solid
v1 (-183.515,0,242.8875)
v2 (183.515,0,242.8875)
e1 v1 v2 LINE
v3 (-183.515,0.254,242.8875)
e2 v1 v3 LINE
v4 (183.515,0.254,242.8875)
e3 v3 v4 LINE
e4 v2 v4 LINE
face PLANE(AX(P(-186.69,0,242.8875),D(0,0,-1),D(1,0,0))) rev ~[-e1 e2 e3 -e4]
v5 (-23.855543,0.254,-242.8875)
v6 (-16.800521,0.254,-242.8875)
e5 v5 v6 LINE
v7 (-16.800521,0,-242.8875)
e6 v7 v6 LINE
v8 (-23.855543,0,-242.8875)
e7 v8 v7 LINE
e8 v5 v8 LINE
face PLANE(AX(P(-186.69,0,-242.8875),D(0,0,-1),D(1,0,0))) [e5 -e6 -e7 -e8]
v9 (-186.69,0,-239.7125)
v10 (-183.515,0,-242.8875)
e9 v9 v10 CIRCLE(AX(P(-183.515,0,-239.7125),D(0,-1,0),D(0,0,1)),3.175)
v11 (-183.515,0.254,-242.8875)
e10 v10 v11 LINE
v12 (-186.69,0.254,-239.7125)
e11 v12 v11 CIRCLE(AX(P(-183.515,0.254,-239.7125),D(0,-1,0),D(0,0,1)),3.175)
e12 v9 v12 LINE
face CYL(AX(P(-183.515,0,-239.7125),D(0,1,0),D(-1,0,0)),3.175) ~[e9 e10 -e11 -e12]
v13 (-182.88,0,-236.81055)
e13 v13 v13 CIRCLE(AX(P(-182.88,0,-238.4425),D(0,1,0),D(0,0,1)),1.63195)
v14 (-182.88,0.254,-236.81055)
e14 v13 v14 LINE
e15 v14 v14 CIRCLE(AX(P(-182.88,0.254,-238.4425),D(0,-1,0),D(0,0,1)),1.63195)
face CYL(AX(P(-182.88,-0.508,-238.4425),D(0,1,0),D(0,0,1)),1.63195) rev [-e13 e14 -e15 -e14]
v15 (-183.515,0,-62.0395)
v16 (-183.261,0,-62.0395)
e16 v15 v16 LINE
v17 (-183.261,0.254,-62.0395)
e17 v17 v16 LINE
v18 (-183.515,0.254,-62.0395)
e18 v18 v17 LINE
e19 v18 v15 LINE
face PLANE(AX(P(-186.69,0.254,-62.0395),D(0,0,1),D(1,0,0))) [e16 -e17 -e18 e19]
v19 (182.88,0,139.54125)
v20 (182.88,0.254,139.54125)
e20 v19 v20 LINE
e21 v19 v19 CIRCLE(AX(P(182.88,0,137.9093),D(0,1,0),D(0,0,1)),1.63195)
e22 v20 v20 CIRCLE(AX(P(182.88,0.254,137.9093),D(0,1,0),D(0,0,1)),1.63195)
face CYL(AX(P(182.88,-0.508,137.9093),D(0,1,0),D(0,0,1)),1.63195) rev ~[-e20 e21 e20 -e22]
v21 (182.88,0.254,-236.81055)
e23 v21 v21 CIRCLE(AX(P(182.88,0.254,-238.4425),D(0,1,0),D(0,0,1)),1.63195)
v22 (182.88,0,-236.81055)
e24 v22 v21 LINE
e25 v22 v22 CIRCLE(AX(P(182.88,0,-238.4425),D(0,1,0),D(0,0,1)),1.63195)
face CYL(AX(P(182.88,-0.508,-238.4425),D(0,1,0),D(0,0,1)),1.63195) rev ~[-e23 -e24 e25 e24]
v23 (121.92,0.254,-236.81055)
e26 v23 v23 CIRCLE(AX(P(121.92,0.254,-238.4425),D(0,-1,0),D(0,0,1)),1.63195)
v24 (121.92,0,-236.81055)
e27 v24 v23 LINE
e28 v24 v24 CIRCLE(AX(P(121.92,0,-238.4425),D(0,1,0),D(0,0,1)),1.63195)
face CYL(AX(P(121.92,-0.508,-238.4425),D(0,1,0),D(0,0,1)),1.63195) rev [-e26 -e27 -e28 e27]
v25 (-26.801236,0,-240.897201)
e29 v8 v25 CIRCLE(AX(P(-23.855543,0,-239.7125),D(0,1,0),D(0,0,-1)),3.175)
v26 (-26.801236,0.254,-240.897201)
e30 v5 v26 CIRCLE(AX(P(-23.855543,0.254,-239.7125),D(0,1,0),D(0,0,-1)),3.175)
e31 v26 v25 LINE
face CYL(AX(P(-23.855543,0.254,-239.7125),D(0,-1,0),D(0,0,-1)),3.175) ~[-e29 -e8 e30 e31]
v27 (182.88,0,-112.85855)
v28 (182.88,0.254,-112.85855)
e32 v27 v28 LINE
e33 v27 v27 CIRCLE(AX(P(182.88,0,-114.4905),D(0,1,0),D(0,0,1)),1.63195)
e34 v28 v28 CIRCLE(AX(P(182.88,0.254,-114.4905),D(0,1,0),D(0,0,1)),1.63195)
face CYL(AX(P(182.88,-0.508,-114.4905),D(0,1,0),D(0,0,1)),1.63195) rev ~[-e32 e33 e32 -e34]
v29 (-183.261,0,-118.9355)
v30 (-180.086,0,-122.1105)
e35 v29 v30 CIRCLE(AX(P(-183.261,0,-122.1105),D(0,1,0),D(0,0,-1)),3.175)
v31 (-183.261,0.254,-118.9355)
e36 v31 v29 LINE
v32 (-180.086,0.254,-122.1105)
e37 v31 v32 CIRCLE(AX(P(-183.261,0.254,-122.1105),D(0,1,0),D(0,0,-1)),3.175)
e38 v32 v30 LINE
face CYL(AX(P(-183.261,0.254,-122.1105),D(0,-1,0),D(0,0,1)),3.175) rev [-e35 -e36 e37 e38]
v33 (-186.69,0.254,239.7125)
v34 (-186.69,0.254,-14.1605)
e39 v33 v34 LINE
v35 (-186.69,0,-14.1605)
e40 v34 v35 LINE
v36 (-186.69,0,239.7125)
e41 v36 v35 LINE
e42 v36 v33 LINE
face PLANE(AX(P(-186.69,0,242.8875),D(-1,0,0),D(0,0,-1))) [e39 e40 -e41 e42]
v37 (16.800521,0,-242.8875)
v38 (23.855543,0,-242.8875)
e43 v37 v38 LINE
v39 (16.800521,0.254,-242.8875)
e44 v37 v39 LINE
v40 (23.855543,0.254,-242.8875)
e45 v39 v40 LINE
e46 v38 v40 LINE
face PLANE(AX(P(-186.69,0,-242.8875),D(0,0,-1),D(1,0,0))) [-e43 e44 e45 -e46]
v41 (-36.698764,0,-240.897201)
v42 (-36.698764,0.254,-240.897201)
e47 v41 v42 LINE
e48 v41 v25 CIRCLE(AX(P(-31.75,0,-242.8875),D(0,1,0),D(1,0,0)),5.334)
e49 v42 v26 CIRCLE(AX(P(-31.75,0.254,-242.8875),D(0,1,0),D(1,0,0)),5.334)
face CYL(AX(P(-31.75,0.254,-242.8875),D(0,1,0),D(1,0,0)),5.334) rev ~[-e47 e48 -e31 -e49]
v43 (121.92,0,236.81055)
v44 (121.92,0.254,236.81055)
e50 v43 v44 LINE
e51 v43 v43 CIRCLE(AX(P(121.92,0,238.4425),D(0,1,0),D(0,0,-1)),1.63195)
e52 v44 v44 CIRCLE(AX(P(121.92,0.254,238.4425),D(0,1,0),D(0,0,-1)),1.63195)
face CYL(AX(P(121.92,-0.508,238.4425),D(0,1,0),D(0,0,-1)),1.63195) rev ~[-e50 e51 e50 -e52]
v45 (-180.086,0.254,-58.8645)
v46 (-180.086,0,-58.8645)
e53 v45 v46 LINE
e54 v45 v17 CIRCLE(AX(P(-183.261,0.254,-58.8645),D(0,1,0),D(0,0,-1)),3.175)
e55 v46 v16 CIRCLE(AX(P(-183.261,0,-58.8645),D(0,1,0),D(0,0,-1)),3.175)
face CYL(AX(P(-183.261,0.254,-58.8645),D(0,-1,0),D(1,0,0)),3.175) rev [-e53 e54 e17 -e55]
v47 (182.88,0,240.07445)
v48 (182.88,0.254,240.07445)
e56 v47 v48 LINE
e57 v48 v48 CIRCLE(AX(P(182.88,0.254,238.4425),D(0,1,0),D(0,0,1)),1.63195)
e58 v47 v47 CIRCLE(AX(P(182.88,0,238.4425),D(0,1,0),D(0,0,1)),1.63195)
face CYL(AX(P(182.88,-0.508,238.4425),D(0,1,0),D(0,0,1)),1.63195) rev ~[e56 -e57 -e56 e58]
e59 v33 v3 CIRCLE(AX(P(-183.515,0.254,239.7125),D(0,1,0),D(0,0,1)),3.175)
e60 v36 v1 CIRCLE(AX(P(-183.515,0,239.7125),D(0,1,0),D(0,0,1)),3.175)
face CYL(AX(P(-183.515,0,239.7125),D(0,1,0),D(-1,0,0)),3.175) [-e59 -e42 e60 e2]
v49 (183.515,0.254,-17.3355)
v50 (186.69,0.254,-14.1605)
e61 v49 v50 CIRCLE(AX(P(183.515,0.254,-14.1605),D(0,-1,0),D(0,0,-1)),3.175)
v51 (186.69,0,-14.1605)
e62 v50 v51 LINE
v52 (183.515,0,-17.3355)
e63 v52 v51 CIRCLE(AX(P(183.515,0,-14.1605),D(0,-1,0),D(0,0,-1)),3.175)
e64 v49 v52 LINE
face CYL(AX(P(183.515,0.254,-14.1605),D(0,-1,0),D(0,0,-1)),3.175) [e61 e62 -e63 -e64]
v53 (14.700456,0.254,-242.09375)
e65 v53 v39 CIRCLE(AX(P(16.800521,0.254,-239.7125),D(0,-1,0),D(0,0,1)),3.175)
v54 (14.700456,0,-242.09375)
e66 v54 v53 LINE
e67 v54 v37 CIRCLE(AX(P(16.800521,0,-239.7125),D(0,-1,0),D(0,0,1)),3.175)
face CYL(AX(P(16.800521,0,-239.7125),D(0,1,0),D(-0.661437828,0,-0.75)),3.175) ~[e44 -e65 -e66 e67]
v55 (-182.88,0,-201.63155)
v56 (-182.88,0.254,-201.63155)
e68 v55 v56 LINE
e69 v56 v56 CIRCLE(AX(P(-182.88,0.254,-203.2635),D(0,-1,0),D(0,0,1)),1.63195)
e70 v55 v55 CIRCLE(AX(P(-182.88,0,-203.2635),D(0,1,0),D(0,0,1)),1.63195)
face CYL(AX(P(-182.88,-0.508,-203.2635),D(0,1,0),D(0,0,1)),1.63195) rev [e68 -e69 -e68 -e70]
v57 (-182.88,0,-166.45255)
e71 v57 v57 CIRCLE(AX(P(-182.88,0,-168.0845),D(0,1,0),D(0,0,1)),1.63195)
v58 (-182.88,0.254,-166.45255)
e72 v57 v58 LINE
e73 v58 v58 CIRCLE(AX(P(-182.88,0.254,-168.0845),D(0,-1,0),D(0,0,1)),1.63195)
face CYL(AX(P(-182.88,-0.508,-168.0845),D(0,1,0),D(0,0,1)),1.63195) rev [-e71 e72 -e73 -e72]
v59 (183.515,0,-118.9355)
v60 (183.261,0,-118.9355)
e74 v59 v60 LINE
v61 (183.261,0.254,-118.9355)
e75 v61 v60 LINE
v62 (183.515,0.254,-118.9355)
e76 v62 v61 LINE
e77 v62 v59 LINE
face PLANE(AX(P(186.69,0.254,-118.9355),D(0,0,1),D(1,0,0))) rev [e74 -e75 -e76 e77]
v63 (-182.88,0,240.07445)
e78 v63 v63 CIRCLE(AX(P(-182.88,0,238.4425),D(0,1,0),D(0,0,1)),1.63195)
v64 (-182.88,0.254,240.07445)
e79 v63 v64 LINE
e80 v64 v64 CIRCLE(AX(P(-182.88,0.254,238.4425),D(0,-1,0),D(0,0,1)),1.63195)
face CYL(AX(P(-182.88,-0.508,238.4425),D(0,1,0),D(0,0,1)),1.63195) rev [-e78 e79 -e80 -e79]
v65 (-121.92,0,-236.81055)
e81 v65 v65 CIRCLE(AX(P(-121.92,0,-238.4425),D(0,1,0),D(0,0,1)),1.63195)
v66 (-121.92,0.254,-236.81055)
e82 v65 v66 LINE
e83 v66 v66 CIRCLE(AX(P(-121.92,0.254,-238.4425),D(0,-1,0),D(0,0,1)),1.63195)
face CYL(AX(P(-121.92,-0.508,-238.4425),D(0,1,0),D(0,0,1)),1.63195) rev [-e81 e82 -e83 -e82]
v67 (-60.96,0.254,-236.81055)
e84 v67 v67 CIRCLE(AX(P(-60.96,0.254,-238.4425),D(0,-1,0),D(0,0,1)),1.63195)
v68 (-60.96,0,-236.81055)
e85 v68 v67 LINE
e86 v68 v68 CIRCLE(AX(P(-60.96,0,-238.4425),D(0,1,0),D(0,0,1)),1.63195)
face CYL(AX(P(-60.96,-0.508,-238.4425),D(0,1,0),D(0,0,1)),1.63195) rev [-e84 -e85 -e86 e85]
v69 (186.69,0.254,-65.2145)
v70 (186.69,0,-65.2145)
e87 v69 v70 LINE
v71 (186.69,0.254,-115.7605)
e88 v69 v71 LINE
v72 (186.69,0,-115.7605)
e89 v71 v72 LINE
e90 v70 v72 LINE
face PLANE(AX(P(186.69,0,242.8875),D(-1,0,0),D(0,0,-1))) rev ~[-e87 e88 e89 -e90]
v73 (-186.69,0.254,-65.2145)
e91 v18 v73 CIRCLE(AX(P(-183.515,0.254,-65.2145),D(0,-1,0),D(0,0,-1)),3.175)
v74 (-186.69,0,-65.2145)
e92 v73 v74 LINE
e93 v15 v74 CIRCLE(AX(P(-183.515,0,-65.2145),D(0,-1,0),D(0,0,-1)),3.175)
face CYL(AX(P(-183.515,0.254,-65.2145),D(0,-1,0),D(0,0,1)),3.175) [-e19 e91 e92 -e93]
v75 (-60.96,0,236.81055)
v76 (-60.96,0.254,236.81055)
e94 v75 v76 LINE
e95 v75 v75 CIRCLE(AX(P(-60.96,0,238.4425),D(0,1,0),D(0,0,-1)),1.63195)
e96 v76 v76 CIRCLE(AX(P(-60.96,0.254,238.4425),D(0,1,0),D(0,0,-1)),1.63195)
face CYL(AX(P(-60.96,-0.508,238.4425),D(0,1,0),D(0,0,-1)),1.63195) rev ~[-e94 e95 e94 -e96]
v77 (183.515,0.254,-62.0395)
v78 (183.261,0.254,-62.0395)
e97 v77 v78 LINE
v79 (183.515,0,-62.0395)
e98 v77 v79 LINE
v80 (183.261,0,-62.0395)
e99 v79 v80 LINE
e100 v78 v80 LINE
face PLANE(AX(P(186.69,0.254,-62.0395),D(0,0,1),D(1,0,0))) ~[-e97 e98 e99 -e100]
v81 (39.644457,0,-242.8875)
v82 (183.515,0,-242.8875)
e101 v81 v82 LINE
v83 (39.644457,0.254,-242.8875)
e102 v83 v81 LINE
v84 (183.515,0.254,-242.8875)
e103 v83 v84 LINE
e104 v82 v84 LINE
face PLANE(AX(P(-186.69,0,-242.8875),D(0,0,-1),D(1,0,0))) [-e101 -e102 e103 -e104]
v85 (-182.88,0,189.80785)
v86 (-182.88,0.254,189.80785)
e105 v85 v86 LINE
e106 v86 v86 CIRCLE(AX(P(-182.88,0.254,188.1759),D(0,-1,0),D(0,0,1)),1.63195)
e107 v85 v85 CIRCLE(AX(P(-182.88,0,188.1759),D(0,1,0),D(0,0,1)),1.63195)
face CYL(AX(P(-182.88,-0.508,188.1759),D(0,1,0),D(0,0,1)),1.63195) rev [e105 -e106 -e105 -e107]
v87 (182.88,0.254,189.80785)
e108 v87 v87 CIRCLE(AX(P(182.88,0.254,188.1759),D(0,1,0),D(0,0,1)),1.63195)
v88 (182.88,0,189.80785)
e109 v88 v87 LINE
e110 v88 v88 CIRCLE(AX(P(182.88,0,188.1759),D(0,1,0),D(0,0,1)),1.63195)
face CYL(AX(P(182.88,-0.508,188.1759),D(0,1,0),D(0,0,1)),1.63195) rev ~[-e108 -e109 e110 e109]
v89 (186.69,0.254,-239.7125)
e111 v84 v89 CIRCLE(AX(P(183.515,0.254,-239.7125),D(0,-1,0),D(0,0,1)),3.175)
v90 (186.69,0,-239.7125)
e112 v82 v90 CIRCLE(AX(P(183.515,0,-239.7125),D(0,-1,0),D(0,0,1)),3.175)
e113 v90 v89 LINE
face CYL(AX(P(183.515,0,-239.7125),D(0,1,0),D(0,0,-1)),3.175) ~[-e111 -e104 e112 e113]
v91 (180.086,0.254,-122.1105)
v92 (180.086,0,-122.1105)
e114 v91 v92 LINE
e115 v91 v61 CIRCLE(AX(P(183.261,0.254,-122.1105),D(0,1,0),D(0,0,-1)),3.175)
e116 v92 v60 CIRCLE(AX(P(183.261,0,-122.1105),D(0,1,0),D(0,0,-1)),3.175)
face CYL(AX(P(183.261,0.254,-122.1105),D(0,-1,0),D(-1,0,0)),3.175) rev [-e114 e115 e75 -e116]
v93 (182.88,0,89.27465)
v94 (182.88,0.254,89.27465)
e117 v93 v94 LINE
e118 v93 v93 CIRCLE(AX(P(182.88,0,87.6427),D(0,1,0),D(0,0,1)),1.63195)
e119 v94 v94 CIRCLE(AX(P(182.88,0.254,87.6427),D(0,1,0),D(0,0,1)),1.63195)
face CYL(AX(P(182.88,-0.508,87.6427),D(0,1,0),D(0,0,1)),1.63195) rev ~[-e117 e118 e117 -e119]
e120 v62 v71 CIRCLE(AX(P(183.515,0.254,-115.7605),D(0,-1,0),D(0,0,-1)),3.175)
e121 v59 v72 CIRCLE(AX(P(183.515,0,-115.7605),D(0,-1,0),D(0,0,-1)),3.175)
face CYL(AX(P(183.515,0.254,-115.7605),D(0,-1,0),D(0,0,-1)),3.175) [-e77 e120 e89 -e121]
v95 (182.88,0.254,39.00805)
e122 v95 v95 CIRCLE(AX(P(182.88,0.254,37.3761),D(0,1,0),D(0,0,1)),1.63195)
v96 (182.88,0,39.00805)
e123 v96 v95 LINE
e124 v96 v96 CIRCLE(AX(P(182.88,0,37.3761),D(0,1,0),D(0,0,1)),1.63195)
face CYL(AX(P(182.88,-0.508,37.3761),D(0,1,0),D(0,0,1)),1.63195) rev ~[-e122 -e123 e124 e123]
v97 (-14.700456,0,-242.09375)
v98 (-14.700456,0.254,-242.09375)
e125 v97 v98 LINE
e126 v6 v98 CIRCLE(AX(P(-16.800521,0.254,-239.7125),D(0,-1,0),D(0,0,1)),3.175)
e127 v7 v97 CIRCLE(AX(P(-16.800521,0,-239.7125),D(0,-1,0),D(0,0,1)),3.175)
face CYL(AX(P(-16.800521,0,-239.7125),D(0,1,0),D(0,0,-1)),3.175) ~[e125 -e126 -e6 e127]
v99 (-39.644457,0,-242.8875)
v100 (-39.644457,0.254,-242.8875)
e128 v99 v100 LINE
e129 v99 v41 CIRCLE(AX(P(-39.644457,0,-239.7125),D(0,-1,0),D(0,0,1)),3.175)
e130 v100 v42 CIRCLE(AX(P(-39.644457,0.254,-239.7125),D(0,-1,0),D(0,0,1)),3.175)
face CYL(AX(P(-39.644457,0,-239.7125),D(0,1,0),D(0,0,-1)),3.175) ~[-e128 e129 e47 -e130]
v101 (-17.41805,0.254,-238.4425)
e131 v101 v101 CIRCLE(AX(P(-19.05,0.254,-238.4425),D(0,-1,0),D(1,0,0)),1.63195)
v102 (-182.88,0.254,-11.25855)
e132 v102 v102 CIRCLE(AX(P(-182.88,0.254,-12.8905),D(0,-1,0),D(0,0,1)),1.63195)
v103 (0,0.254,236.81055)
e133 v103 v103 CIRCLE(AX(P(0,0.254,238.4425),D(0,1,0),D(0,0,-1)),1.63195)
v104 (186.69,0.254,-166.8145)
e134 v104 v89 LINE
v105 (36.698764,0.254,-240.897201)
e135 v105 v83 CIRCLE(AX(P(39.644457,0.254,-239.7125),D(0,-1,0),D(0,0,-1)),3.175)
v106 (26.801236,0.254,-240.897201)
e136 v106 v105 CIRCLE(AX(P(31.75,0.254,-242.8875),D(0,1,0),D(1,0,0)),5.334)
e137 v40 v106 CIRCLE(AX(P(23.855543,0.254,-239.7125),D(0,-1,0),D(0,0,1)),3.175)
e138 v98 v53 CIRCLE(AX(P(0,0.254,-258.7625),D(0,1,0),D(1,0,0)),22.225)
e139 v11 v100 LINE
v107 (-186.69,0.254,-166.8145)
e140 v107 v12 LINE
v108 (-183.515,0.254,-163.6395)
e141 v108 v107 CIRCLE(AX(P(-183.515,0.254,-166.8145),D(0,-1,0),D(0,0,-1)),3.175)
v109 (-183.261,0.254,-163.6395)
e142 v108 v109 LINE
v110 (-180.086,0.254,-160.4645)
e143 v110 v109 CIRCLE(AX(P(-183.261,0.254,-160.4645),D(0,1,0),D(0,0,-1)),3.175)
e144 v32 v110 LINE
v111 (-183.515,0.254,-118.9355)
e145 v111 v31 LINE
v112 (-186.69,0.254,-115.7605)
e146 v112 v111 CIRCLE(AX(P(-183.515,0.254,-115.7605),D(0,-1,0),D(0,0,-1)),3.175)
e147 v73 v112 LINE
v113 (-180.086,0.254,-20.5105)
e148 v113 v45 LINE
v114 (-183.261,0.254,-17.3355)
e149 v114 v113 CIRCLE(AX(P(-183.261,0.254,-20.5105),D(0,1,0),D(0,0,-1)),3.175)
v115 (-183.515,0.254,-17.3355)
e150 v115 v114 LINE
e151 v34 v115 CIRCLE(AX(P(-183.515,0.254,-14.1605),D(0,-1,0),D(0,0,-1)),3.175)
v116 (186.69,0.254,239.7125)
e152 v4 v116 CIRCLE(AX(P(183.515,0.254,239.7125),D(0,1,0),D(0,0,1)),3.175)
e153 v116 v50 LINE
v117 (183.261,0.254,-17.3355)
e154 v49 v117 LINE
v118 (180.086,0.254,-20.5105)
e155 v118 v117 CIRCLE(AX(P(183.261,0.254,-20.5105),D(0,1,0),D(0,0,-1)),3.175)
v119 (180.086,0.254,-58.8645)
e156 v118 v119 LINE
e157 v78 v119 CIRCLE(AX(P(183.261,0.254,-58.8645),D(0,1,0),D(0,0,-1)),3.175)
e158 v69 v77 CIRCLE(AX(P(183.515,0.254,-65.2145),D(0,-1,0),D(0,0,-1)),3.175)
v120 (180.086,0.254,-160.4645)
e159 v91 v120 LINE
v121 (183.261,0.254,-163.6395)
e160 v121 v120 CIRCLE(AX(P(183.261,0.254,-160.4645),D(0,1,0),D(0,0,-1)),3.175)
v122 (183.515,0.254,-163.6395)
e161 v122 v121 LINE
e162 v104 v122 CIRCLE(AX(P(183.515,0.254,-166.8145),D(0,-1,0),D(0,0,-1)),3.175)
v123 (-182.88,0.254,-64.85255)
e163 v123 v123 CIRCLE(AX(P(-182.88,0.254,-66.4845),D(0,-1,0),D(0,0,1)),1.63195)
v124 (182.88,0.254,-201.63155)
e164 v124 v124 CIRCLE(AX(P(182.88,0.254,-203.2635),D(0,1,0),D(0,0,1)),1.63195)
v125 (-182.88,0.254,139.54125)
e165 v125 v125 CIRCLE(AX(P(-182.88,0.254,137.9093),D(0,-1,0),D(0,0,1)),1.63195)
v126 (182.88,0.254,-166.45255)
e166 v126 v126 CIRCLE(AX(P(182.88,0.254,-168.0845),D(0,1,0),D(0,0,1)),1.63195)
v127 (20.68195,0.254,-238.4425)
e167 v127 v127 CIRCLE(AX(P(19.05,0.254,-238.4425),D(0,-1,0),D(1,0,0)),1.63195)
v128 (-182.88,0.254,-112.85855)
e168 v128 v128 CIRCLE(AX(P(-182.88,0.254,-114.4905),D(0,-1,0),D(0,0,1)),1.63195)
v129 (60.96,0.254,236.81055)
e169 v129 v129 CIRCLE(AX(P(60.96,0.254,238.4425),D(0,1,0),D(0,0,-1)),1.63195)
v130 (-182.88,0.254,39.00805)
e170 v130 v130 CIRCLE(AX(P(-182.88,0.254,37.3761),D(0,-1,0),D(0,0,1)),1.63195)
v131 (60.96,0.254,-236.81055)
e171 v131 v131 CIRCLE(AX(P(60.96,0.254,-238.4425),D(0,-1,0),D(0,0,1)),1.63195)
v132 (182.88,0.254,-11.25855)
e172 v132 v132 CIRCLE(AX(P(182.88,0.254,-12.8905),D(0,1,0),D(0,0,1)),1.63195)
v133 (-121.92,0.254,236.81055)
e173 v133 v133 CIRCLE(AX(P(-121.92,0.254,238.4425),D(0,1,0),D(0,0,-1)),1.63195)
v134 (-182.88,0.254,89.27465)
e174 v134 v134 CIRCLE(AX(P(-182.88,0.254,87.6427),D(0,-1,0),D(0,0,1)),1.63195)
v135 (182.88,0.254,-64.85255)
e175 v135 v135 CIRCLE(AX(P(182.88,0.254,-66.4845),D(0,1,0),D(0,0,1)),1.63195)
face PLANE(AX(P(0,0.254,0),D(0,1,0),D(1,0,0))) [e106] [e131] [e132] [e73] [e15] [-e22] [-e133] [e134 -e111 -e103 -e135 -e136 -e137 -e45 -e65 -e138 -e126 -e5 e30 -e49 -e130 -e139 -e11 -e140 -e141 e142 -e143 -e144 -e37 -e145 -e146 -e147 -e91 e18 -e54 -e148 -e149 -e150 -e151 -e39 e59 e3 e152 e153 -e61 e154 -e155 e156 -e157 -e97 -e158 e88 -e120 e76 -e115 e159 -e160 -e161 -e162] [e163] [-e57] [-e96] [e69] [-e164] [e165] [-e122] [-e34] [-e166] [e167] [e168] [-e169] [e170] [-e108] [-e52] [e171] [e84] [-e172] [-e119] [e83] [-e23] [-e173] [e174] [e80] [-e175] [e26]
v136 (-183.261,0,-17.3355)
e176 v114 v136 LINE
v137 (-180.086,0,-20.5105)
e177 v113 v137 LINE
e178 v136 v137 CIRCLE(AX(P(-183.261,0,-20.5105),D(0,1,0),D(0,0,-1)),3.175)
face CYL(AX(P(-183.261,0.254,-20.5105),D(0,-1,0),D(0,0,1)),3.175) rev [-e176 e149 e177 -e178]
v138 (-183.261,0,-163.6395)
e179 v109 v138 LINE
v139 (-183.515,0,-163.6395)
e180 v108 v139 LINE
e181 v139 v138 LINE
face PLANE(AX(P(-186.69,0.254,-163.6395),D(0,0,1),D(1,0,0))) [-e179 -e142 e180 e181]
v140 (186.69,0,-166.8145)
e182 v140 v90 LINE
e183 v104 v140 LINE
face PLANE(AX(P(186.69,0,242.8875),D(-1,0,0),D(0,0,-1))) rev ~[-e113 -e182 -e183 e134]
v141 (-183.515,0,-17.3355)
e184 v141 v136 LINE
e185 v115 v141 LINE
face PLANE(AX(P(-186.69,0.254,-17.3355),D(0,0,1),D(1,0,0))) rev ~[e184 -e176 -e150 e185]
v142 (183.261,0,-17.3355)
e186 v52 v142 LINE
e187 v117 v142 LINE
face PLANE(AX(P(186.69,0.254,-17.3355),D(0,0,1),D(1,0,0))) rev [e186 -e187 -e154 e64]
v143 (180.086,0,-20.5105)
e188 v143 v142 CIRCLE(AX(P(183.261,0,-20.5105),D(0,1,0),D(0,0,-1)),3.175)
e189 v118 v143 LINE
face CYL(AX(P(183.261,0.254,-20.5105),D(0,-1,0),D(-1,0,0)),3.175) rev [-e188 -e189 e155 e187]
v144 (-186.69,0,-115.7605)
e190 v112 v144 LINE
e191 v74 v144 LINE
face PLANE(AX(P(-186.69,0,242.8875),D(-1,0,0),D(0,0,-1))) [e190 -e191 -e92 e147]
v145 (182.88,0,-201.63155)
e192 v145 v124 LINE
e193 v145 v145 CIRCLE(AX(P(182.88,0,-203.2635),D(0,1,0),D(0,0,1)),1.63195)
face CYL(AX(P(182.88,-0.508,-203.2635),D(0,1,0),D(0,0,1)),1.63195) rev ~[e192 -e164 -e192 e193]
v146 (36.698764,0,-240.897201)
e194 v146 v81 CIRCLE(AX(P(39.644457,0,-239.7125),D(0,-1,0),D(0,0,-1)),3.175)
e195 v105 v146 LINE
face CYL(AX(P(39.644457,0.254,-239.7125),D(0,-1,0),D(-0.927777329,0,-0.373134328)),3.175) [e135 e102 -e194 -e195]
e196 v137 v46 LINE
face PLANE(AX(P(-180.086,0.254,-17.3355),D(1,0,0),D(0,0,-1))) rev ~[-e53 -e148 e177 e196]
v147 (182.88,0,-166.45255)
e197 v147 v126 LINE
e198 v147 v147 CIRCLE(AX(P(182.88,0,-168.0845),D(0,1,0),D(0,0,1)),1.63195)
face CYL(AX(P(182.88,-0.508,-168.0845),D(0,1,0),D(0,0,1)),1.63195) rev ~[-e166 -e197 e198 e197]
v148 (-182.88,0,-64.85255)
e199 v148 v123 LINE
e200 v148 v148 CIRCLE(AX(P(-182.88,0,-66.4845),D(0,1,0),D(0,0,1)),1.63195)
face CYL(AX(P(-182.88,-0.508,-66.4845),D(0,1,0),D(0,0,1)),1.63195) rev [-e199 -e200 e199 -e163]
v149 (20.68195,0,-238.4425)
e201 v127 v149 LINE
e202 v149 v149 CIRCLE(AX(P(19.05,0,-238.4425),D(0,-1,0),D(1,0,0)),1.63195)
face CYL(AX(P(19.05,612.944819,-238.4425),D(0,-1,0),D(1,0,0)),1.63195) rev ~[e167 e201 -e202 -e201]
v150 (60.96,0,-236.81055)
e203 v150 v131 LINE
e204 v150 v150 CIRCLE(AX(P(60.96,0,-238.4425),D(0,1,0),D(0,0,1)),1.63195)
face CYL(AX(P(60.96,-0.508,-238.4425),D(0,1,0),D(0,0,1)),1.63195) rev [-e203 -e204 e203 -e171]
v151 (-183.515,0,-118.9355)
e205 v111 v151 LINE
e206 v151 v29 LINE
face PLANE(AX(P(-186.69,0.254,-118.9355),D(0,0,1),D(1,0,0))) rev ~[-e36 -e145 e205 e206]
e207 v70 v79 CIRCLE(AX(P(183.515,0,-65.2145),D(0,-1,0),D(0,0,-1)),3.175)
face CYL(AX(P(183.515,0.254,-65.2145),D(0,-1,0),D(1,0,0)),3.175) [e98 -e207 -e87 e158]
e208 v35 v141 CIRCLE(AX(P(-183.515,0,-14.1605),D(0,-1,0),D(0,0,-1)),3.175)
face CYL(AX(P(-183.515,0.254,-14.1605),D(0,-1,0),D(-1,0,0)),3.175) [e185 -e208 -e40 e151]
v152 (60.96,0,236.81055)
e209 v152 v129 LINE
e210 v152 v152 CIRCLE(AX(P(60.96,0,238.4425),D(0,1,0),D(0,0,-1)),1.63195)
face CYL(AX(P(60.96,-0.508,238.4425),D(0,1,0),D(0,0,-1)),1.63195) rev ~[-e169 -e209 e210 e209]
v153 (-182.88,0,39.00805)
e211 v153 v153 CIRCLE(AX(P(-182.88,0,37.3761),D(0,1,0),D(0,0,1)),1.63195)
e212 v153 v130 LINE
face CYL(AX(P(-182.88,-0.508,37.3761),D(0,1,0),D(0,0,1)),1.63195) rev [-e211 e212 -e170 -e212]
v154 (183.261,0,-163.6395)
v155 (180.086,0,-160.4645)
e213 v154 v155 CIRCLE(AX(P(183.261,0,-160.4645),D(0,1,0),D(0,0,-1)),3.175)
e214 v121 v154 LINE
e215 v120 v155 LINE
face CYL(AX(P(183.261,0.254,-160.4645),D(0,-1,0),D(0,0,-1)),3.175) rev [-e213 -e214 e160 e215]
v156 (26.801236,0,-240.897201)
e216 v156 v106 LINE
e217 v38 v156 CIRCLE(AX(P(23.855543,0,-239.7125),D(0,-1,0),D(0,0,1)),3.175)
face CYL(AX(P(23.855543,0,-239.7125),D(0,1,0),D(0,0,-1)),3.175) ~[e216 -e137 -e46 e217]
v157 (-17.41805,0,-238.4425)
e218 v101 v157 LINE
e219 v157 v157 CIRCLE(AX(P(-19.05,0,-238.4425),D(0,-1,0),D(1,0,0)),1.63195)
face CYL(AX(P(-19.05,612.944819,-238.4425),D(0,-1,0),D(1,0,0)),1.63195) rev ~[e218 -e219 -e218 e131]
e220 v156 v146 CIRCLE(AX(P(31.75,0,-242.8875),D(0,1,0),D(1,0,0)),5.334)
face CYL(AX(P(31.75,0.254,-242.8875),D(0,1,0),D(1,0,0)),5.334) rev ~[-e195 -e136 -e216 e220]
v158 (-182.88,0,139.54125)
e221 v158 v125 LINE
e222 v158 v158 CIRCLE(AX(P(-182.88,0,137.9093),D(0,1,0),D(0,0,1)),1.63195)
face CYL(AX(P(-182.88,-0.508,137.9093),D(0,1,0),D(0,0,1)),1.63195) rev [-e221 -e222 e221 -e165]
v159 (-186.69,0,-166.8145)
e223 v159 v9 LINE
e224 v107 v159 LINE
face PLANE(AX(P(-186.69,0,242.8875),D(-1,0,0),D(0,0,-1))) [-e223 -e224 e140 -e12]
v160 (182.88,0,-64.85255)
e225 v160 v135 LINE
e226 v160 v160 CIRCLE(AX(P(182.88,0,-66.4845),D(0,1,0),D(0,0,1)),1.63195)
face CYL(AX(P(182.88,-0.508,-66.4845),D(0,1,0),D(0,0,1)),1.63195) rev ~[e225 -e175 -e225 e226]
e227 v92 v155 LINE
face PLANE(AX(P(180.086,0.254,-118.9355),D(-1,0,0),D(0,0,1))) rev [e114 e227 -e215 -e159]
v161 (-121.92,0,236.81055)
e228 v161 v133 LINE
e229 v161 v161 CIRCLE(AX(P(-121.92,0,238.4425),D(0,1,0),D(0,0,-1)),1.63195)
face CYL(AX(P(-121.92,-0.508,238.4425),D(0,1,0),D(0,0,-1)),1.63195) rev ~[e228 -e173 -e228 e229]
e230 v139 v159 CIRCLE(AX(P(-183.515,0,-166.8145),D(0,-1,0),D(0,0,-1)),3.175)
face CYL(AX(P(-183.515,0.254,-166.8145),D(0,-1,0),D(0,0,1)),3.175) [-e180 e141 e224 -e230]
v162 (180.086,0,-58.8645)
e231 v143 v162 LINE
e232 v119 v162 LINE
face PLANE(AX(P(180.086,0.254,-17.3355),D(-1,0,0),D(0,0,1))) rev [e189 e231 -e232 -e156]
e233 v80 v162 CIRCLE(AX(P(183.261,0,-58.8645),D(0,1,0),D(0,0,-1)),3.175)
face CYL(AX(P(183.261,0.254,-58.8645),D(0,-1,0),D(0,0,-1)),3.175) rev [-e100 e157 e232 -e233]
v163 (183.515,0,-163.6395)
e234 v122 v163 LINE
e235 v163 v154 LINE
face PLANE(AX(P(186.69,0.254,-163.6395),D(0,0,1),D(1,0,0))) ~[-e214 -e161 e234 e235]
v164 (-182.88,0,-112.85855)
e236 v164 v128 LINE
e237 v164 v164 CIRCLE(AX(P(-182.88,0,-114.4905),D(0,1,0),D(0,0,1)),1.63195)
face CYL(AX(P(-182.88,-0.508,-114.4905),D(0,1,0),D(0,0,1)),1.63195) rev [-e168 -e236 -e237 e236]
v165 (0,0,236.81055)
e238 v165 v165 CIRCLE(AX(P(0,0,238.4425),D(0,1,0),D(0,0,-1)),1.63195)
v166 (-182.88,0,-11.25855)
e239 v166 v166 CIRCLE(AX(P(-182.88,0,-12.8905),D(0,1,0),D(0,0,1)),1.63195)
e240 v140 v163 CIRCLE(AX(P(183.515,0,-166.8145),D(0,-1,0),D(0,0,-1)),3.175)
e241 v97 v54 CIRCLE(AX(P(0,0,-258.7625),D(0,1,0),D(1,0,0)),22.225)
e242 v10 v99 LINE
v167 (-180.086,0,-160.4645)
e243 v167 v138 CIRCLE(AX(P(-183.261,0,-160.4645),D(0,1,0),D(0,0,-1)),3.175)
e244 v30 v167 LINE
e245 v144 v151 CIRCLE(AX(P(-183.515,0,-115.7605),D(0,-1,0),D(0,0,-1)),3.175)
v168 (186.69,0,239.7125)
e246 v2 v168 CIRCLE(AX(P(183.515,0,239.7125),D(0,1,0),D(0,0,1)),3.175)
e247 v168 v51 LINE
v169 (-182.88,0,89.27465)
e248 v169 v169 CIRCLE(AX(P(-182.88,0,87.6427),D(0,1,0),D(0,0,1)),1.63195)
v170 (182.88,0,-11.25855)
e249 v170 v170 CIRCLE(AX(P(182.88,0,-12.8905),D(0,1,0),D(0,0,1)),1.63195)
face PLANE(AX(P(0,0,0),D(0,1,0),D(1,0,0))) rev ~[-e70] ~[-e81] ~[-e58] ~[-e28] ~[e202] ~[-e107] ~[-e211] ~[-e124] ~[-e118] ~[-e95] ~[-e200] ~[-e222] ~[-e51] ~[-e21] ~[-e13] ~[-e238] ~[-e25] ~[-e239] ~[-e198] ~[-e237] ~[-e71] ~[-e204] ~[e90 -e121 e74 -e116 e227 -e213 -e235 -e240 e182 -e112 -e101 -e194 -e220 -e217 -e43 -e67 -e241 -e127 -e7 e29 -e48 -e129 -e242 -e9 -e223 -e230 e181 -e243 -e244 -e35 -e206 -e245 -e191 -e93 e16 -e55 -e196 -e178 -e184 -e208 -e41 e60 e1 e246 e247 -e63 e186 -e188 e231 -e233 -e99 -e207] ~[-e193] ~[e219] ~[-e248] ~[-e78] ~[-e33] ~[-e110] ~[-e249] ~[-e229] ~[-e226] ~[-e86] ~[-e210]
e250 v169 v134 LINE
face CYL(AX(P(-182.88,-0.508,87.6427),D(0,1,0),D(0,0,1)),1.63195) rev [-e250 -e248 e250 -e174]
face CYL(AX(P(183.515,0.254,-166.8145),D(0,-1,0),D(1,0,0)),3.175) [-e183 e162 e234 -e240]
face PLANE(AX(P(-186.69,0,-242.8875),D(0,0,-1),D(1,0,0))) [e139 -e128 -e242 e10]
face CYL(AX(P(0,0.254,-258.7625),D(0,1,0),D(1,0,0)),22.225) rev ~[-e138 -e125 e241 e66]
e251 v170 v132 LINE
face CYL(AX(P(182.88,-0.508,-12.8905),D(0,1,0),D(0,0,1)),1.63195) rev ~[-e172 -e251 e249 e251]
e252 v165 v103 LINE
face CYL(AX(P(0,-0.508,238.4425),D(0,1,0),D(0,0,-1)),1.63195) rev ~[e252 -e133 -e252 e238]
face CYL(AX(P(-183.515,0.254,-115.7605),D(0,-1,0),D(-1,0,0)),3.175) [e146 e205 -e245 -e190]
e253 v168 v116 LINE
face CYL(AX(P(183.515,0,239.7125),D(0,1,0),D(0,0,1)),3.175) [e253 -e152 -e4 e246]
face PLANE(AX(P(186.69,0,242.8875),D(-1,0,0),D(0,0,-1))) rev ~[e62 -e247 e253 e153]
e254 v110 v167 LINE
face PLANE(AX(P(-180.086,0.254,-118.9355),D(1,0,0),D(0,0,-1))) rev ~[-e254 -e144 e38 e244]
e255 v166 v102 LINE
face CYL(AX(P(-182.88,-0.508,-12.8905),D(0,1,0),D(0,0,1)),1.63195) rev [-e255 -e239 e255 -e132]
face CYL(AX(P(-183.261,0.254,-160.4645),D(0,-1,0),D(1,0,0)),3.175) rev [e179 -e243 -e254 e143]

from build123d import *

# Parameters (mm, degrees)
SKETCH1_W                       = 373.38
SKETCH1_H                       = 485.775
BOSS_EXTRUDE1_DEPTH             = 0.254
SKETCH2_W                       = 6.604
SKETCH2_H                       = 44.704
CUT_EXTRUDE1_DEPTH              = 307.345488415
FILLET1_R                       = 3.175
F_4_CLEARANCE_HOLE1_AT_2_COUNT  = 2
F_4_CLEARANCE_HOLE1_AT_2_PITCH  = 70.358
F_4_CLEARANCE_HOLE1_AT_3_COUNT  = 2
F_4_CLEARANCE_HOLE1_AT_3_PITCH  = 35.179
F_4_CLEARANCE_HOLE1_AT_4_COUNT  = 2
F_4_CLEARANCE_HOLE1_AT_4_PITCH  = 123.952
F_4_CLEARANCE_HOLE1_AT_5_COUNT  = 2
F_4_CLEARANCE_HOLE1_AT_5_PITCH  = 171.958
F_4_CLEARANCE_HOLE1_AT_6_COUNT  = 2
F_4_CLEARANCE_HOLE1_AT_6_PITCH  = 225.552
F_4_CLEARANCE_HOLE1_AT_7_COUNT  = 2
F_4_CLEARANCE_HOLE1_AT_7_PITCH  = 275.8186
F_4_CLEARANCE_HOLE1_AT_8_COUNT  = 2
F_4_CLEARANCE_HOLE1_AT_8_PITCH  = 326.0852
F_4_CLEARANCE_HOLE1_AT_9_COUNT  = 2
F_4_CLEARANCE_HOLE1_AT_9_PITCH  = 376.3518
F_4_CLEARANCE_HOLE1_AT_10_COUNT = 2
F_4_CLEARANCE_HOLE1_AT_10_PITCH = 426.6184
F_4_CLEARANCE_HOLE1_AT_11_COUNT = 2
F_4_CLEARANCE_HOLE1_AT_11_PITCH = 476.885
F_4_CLEARANCE_HOLE1_AT_12_COUNT = 2
F_4_CLEARANCE_HOLE1_AT_12_PITCH = 527.1516
F_4_CLEARANCE_HOLE2_AT_2_COUNT  = 2
F_4_CLEARANCE_HOLE2_AT_2_PITCH  = 60.96
F_4_CLEARANCE_HOLE2_AT_3_COUNT  = 2
F_4_CLEARANCE_HOLE2_AT_3_PITCH  = 121.92
F_4_CLEARANCE_HOLE2_AT_4_COUNT  = 2
F_4_CLEARANCE_HOLE2_AT_4_PITCH  = 182.88
F_4_CLEARANCE_HOLE2_AT_5_COUNT  = 2
F_4_CLEARANCE_HOLE2_AT_5_PITCH  = 243.84
CUT_EXTRUDE2_REACH              = 308.345
SKETCH7_R                       = 22.225
FILLET2_R                       = 3.175
F_4_CLEARANCE_HOLE3_D           = 3.2639
SKETCH10_R                      = 5.334
CUT_EXTRUDE3_DEPTH              = 1.016
FILLET3_R                       = 3.175


with BuildPart() as part:
    # Sketch1 → Boss-Extrude1 (new body)
    with BuildSketch(Plane(origin=(0, 0, 0), x_dir=(1, 0, 0), z_dir=(0, 1, 0))):
        Rectangle(SKETCH1_W, SKETCH1_H)
    extrude(amount=BOSS_EXTRUDE1_DEPTH)

    # Sketch2 → Cut-Extrude1 (cut, through all)
    with BuildSketch(Plane(origin=(0, 0.254, 0), x_dir=(1, 0, 0), z_dir=(0, 1, 0))):
        with Locations((-183.388, 141.2875)):
            Rectangle(SKETCH2_W, SKETCH2_H)
        with Locations((-183.388, 39.6875)):
            Rectangle(SKETCH2_W, SKETCH2_H)
    cut_extrude1 = extrude(amount=-CUT_EXTRUDE1_DEPTH, mode=Mode.SUBTRACT)

    # Mirror1: Cut-Extrude1 across plane
    add(cut_extrude1.mirror(Plane(origin=(0, 0, 0), x_dir=(0, 0, 1), z_dir=(1, 0, 0))), mode=Mode.SUBTRACT)

    # Fillet1
    fillet1_edges = [part.edges().sort_by_distance(p)[0] for p in [
        (-186.69, 0.127, -118.9355),
        (-186.69, 0.127, -163.6395),
        (-180.086, 0.127, -163.6395),
        (-180.086, 0.127, -118.9355),
        (-180.086, 0.127, -62.0395),
        (-180.086, 0.127, -17.3355),
        (-186.69, 0.127, -17.3355),
        (-186.69, 0.127, -62.0395),
        (186.69, 0.127, -163.6395),
        (186.69, 0.127, -118.9355),
        (180.086, 0.127, -118.9355),
        (180.086, 0.127, -163.6395),
        (180.086, 0.127, -17.3355),
        (180.086, 0.127, -62.0395),
        (186.69, 0.127, -62.0395),
        (186.69, 0.127, -17.3355),
        (186.69, 0.127, 242.8875),
        (-186.69, 0.127, 242.8875),
        (-186.69, 0.127, -242.8875),
        (186.69, 0.127, -242.8875),
    ]]
    fillet(fillet1_edges, radius=FILLET1_R)

    # Sketch3 → #4 Clearance Hole1 (revolve, cut)
    with BuildSketch(Plane(origin=(-182.88, 0.254, -238.4425), x_dir=(0, 0, 1), z_dir=(1, 0, 0))):
        Polygon((0, 0), (0, 1.742574487), (1.63195, 0.762), (1.63195, 0), align=None)
    f_4_clearance_hole1 = revolve(axis=Axis((-182.88, 6.604, -238.4425), (0, -1, 0)), mode=Mode.SUBTRACT)

    # #4 Clearance Hole1 at 2: #4 Clearance Hole1 ×2
    with Locations(*[(0, 0, i * F_4_CLEARANCE_HOLE1_AT_2_PITCH) for i in range(1, F_4_CLEARANCE_HOLE1_AT_2_COUNT)]):
        add(f_4_clearance_hole1, mode=Mode.SUBTRACT)

    # #4 Clearance Hole1 at 3: #4 Clearance Hole1 ×2
    with Locations(*[(0, 0, i * F_4_CLEARANCE_HOLE1_AT_3_PITCH) for i in range(1, F_4_CLEARANCE_HOLE1_AT_3_COUNT)]):
        add(f_4_clearance_hole1, mode=Mode.SUBTRACT)

    # #4 Clearance Hole1 at 4: #4 Clearance Hole1 ×2
    with Locations(*[(0, 0, i * F_4_CLEARANCE_HOLE1_AT_4_PITCH) for i in range(1, F_4_CLEARANCE_HOLE1_AT_4_COUNT)]):
        add(f_4_clearance_hole1, mode=Mode.SUBTRACT)

    # #4 Clearance Hole1 at 5: #4 Clearance Hole1 ×2
    with Locations(*[(0, 0, i * F_4_CLEARANCE_HOLE1_AT_5_PITCH) for i in range(1, F_4_CLEARANCE_HOLE1_AT_5_COUNT)]):
        add(f_4_clearance_hole1, mode=Mode.SUBTRACT)

    # #4 Clearance Hole1 at 6: #4 Clearance Hole1 ×2
    with Locations(*[(0, 0, i * F_4_CLEARANCE_HOLE1_AT_6_PITCH) for i in range(1, F_4_CLEARANCE_HOLE1_AT_6_COUNT)]):
        add(f_4_clearance_hole1, mode=Mode.SUBTRACT)

    # #4 Clearance Hole1 at 7: #4 Clearance Hole1 ×2
    with Locations(*[(0, 0, i * F_4_CLEARANCE_HOLE1_AT_7_PITCH) for i in range(1, F_4_CLEARANCE_HOLE1_AT_7_COUNT)]):
        add(f_4_clearance_hole1, mode=Mode.SUBTRACT)

    # #4 Clearance Hole1 at 8: #4 Clearance Hole1 ×2
    with Locations(*[(0, 0, i * F_4_CLEARANCE_HOLE1_AT_8_PITCH) for i in range(1, F_4_CLEARANCE_HOLE1_AT_8_COUNT)]):
        add(f_4_clearance_hole1, mode=Mode.SUBTRACT)

    # #4 Clearance Hole1 at 9: #4 Clearance Hole1 ×2
    with Locations(*[(0, 0, i * F_4_CLEARANCE_HOLE1_AT_9_PITCH) for i in range(1, F_4_CLEARANCE_HOLE1_AT_9_COUNT)]):
        add(f_4_clearance_hole1, mode=Mode.SUBTRACT)

    # #4 Clearance Hole1 at 10: #4 Clearance Hole1 ×2
    with Locations(*[(0, 0, i * F_4_CLEARANCE_HOLE1_AT_10_PITCH) for i in range(1, F_4_CLEARANCE_HOLE1_AT_10_COUNT)]):
        add(f_4_clearance_hole1, mode=Mode.SUBTRACT)

    # #4 Clearance Hole1 at 11: #4 Clearance Hole1 ×2
    with Locations(*[(0, 0, i * F_4_CLEARANCE_HOLE1_AT_11_PITCH) for i in range(1, F_4_CLEARANCE_HOLE1_AT_11_COUNT)]):
        add(f_4_clearance_hole1, mode=Mode.SUBTRACT)

    # #4 Clearance Hole1 at 12: #4 Clearance Hole1 ×2
    with Locations(*[(0, 0, i * F_4_CLEARANCE_HOLE1_AT_12_PITCH) for i in range(1, F_4_CLEARANCE_HOLE1_AT_12_COUNT)]):
        add(f_4_clearance_hole1, mode=Mode.SUBTRACT)

    # Mirror2: #4 Clearance Hole1 across plane
    add(f_4_clearance_hole1.mirror(Plane(origin=(0, 0, 0), x_dir=(0, 0, 1), z_dir=(1, 0, 0))), mode=Mode.SUBTRACT)

    # Mirror2 copy 1 sketch → Mirror2 copy 1 (revolve, cut)
    with BuildSketch(Plane(origin=(182.88, 0.254, -168.0845), x_dir=(0, 0, 1), z_dir=(-1, 0, 0))):
        Polygon((0, 0), (0, -1.742574487), (1.63195, -0.762), (1.63195, 0), align=None)
    revolve(axis=Axis((182.88, 6.604, -168.0845), (0, 1, 0)), mode=Mode.SUBTRACT)

    # Mirror2 copy 2 sketch → Mirror2 copy 2 (revolve, cut)
    with BuildSketch(Plane(origin=(182.88, 0.254, -203.2635), x_dir=(0, 0, 1), z_dir=(-1, 0, 0))):
        Polygon((0, 0), (0, -1.742574487), (1.63195, -0.762), (1.63195, 0), align=None)
    revolve(axis=Axis((182.88, 6.604, -203.2635), (0, 1, 0)), mode=Mode.SUBTRACT)

    # Mirror2 copy 3 sketch → Mirror2 copy 3 (revolve, cut)
    with BuildSketch(Plane(origin=(182.88, 0.254, -114.4905), x_dir=(0, 0, 1), z_dir=(-1, 0, 0))):
        Polygon((0, 0), (0, -1.742574487), (1.63195, -0.762), (1.63195, 0), align=None)
    revolve(axis=Axis((182.88, 6.604, -114.4905), (0, 1, 0)), mode=Mode.SUBTRACT)

    # Mirror2 copy 4 sketch → Mirror2 copy 4 (revolve, cut)
    with BuildSketch(Plane(origin=(182.88, 0.254, -66.4845), x_dir=(0, 0, 1), z_dir=(-1, 0, 0))):
        Polygon((0, 0), (0, -1.742574487), (1.63195, -0.762), (1.63195, 0), align=None)
    revolve(axis=Axis((182.88, 6.604, -66.4845), (0, 1, 0)), mode=Mode.SUBTRACT)

    # Mirror2 copy 5 sketch → Mirror2 copy 5 (revolve, cut)
    with BuildSketch(Plane(origin=(182.88, 0.254, -12.8905), x_dir=(0, 0, 1), z_dir=(-1, 0, 0))):
        Polygon((0, 0), (0, -1.742574487), (1.63195, -0.762), (1.63195, 0), align=None)
    revolve(axis=Axis((182.88, 6.604, -12.8905), (0, 1, 0)), mode=Mode.SUBTRACT)

    # Mirror2 copy 6 sketch → Mirror2 copy 6 (revolve, cut)
    with BuildSketch(Plane(origin=(182.88, 0.254, 37.3761), x_dir=(0, 0, 1), z_dir=(-1, 0, 0))):
        Polygon((0, 0), (0, -1.742574487), (1.63195, -0.762), (1.63195, 0), align=None)
    revolve(axis=Axis((182.88, 6.604, 37.3761), (0, 1, 0)), mode=Mode.SUBTRACT)

    # Mirror2 copy 7 sketch → Mirror2 copy 7 (revolve, cut)
    with BuildSketch(Plane(origin=(182.88, 0.254, 87.6427), x_dir=(0, 0, 1), z_dir=(-1, 0, 0))):
        Polygon((0, 0), (0, -1.742574487), (1.63195, -0.762), (1.63195, 0), align=None)
    revolve(axis=Axis((182.88, 6.604, 87.6427), (0, 1, 0)), mode=Mode.SUBTRACT)

    # Mirror2 copy 8 sketch → Mirror2 copy 8 (revolve, cut)
    with BuildSketch(Plane(origin=(182.88, 0.254, 137.9093), x_dir=(0, 0, 1), z_dir=(-1, 0, 0))):
        Polygon((0, 0), (0, -1.742574487), (1.63195, -0.762), (1.63195, 0), align=None)
    revolve(axis=Axis((182.88, 6.604, 137.9093), (0, 1, 0)), mode=Mode.SUBTRACT)

    # Mirror2 copy 9 sketch → Mirror2 copy 9 (revolve, cut)
    with BuildSketch(Plane(origin=(182.88, 0.254, 188.1759), x_dir=(0, 0, 1), z_dir=(-1, 0, 0))):
        Polygon((0, 0), (0, -1.742574487), (1.63195, -0.762), (1.63195, 0), align=None)
    revolve(axis=Axis((182.88, 6.604, 188.1759), (0, 1, 0)), mode=Mode.SUBTRACT)

    # Mirror2 copy 10 sketch → Mirror2 copy 10 (revolve, cut)
    with BuildSketch(Plane(origin=(182.88, 0.254, 238.4425), x_dir=(0, 0, 1), z_dir=(-1, 0, 0))):
        Polygon((0, 0), (0, -1.742574487), (1.63195, -0.762), (1.63195, 0), align=None)
    revolve(axis=Axis((182.88, 6.604, 238.4425), (0, 1, 0)), mode=Mode.SUBTRACT)

    # Mirror2 copy 11 sketch → Mirror2 copy 11 (revolve, cut)
    with BuildSketch(Plane(origin=(182.88, 0.254, 288.7091), x_dir=(0, 0, 1), z_dir=(-1, 0, 0))):
        Polygon((0, 0), (0, -1.742574487), (1.63195, -0.762), (1.63195, 0), align=None)
    revolve(axis=Axis((182.88, 6.604, 288.7091), (0, 1, 0)), mode=Mode.SUBTRACT)

    # Sketch5 → #4 Clearance Hole2 (revolve, cut)
    with BuildSketch(Plane(origin=(-121.92, 0.254, -238.4425), x_dir=(0, 0, 1), z_dir=(1, 0, 0))):
        Polygon((0, 0), (0, 1.742574487), (1.63195, 0.762), (1.63195, 0), align=None)
    f_4_clearance_hole2 = revolve(axis=Axis((-121.92, 6.604, -238.4425), (0, -1, 0)), mode=Mode.SUBTRACT)

    # #4 Clearance Hole2 at 2: #4 Clearance Hole2 ×2
    with Locations(*[(i * F_4_CLEARANCE_HOLE2_AT_2_PITCH, 0, 0) for i in range(1, F_4_CLEARANCE_HOLE2_AT_2_COUNT)]):
        add(f_4_clearance_hole2, mode=Mode.SUBTRACT)

    # #4 Clearance Hole2 at 3: #4 Clearance Hole2 ×2
    with Locations(*[(i * F_4_CLEARANCE_HOLE2_AT_3_PITCH, 0, 0) for i in range(1, F_4_CLEARANCE_HOLE2_AT_3_COUNT)]):
        add(f_4_clearance_hole2, mode=Mode.SUBTRACT)

    # #4 Clearance Hole2 at 4: #4 Clearance Hole2 ×2
    with Locations(*[(i * F_4_CLEARANCE_HOLE2_AT_4_PITCH, 0, 0) for i in range(1, F_4_CLEARANCE_HOLE2_AT_4_COUNT)]):
        add(f_4_clearance_hole2, mode=Mode.SUBTRACT)

    # #4 Clearance Hole2 at 5: #4 Clearance Hole2 ×2
    with Locations(*[(i * F_4_CLEARANCE_HOLE2_AT_5_PITCH, 0, 0) for i in range(1, F_4_CLEARANCE_HOLE2_AT_5_COUNT)]):
        add(f_4_clearance_hole2, mode=Mode.SUBTRACT)

    # Mirror3: #4 Clearance Hole2 across plane
    add(f_4_clearance_hole2.mirror(Plane.XY), mode=Mode.SUBTRACT)

    # Mirror3 copy 1 sketch → Mirror3 copy 1 (revolve, cut)
    with BuildSketch(Plane(origin=(-60.96, 0.254, 238.4425), x_dir=(0, 0, -1), z_dir=(1, 0, 0))):
        Polygon((0, 0), (0, -1.742574487), (1.63195, -0.762), (1.63195, 0), align=None)
    revolve(axis=Axis((-60.96, 6.604, 238.4425), (0, 1, 0)), mode=Mode.SUBTRACT)

    # Mirror3 copy 2 sketch → Mirror3 copy 2 (revolve, cut)
    with BuildSketch(Plane(origin=(0, 0.254, 238.4425), x_dir=(0, 0, -1), z_dir=(1, 0, 0))):
        Polygon((0, 0), (0, -1.742574487), (1.63195, -0.762), (1.63195, 0), align=None)
    revolve(axis=Axis((0, 6.604, 238.4425), (0, 1, 0)), mode=Mode.SUBTRACT)

    # Mirror3 copy 3 sketch → Mirror3 copy 3 (revolve, cut)
    with BuildSketch(Plane(origin=(60.96, 0.254, 238.4425), x_dir=(0, 0, -1), z_dir=(1, 0, 0))):
        Polygon((0, 0), (0, -1.742574487), (1.63195, -0.762), (1.63195, 0), align=None)
    revolve(axis=Axis((60.96, 6.604, 238.4425), (0, 1, 0)), mode=Mode.SUBTRACT)

    # Mirror3 copy 4 sketch → Mirror3 copy 4 (revolve, cut)
    with BuildSketch(Plane(origin=(121.92, 0.254, 238.4425), x_dir=(0, 0, -1), z_dir=(1, 0, 0))):
        Polygon((0, 0), (0, -1.742574487), (1.63195, -0.762), (1.63195, 0), align=None)
    revolve(axis=Axis((121.92, 6.604, 238.4425), (0, 1, 0)), mode=Mode.SUBTRACT)

    # Sketch7 → Cut-Extrude2 (cut, up to next)
    with BuildSketch(Plane(origin=(0, 0.254, 0), x_dir=(1, 0, 0), z_dir=(0, 1, 0)), mode=Mode.PRIVATE) as cut_extrude2_sk1:
        with Locations((0, 258.7625)):
            Circle(SKETCH7_R)
    cut_extrude2_tool1 = extrude(cut_extrude2_sk1.sketch, amount=-CUT_EXTRUDE2_REACH, mode=Mode.PRIVATE) & part.part
    add(cut_extrude2_tool1.solids().sort_by_distance((0, 0.254, -258.7625))[0], mode=Mode.SUBTRACT)

    # Fillet2
    fillet2_edges = [part.edges().sort_by_distance(p)[0] for p in [
        (15.554259867, 0.127, -242.8875),
        (-15.554259867, 0.127, -242.8875),
    ]]
    fillet(fillet2_edges, radius=FILLET2_R)

    # #4 Clearance Hole3 (through all)
    with Locations(Plane(origin=(0, 0.254, 0), x_dir=(-1, 0, 0), z_dir=(0, 1, 0))):
        with Locations((19.05, -238.4425), (-19.05, -238.4425)):
            Hole(F_4_CLEARANCE_HOLE3_D / 2)

    # Sketch10 → Cut-Extrude3 (cut)
    with BuildSketch(Plane(origin=(0, 0.254, 0), x_dir=(1, 0, 0), z_dir=(0, 1, 0))):
        with Locations((31.75, 242.8875)):
            Circle(SKETCH10_R)
        with Locations((-31.75, 242.8875)):
            Circle(SKETCH10_R)
    extrude(amount=-CUT_EXTRUDE3_DEPTH, mode=Mode.SUBTRACT)

    # Fillet3
    fillet3_edges = [part.edges().sort_by_distance(p)[0] for p in [
        (37.084, 0.127, -242.8875),
        (26.416, 0.127, -242.8875),
        (-37.084, 0.127, -242.8875),
        (-26.416, 0.127, -242.8875),
    ]]
    fillet(fillet3_edges, radius=FILLET3_R)


solid = part.part
